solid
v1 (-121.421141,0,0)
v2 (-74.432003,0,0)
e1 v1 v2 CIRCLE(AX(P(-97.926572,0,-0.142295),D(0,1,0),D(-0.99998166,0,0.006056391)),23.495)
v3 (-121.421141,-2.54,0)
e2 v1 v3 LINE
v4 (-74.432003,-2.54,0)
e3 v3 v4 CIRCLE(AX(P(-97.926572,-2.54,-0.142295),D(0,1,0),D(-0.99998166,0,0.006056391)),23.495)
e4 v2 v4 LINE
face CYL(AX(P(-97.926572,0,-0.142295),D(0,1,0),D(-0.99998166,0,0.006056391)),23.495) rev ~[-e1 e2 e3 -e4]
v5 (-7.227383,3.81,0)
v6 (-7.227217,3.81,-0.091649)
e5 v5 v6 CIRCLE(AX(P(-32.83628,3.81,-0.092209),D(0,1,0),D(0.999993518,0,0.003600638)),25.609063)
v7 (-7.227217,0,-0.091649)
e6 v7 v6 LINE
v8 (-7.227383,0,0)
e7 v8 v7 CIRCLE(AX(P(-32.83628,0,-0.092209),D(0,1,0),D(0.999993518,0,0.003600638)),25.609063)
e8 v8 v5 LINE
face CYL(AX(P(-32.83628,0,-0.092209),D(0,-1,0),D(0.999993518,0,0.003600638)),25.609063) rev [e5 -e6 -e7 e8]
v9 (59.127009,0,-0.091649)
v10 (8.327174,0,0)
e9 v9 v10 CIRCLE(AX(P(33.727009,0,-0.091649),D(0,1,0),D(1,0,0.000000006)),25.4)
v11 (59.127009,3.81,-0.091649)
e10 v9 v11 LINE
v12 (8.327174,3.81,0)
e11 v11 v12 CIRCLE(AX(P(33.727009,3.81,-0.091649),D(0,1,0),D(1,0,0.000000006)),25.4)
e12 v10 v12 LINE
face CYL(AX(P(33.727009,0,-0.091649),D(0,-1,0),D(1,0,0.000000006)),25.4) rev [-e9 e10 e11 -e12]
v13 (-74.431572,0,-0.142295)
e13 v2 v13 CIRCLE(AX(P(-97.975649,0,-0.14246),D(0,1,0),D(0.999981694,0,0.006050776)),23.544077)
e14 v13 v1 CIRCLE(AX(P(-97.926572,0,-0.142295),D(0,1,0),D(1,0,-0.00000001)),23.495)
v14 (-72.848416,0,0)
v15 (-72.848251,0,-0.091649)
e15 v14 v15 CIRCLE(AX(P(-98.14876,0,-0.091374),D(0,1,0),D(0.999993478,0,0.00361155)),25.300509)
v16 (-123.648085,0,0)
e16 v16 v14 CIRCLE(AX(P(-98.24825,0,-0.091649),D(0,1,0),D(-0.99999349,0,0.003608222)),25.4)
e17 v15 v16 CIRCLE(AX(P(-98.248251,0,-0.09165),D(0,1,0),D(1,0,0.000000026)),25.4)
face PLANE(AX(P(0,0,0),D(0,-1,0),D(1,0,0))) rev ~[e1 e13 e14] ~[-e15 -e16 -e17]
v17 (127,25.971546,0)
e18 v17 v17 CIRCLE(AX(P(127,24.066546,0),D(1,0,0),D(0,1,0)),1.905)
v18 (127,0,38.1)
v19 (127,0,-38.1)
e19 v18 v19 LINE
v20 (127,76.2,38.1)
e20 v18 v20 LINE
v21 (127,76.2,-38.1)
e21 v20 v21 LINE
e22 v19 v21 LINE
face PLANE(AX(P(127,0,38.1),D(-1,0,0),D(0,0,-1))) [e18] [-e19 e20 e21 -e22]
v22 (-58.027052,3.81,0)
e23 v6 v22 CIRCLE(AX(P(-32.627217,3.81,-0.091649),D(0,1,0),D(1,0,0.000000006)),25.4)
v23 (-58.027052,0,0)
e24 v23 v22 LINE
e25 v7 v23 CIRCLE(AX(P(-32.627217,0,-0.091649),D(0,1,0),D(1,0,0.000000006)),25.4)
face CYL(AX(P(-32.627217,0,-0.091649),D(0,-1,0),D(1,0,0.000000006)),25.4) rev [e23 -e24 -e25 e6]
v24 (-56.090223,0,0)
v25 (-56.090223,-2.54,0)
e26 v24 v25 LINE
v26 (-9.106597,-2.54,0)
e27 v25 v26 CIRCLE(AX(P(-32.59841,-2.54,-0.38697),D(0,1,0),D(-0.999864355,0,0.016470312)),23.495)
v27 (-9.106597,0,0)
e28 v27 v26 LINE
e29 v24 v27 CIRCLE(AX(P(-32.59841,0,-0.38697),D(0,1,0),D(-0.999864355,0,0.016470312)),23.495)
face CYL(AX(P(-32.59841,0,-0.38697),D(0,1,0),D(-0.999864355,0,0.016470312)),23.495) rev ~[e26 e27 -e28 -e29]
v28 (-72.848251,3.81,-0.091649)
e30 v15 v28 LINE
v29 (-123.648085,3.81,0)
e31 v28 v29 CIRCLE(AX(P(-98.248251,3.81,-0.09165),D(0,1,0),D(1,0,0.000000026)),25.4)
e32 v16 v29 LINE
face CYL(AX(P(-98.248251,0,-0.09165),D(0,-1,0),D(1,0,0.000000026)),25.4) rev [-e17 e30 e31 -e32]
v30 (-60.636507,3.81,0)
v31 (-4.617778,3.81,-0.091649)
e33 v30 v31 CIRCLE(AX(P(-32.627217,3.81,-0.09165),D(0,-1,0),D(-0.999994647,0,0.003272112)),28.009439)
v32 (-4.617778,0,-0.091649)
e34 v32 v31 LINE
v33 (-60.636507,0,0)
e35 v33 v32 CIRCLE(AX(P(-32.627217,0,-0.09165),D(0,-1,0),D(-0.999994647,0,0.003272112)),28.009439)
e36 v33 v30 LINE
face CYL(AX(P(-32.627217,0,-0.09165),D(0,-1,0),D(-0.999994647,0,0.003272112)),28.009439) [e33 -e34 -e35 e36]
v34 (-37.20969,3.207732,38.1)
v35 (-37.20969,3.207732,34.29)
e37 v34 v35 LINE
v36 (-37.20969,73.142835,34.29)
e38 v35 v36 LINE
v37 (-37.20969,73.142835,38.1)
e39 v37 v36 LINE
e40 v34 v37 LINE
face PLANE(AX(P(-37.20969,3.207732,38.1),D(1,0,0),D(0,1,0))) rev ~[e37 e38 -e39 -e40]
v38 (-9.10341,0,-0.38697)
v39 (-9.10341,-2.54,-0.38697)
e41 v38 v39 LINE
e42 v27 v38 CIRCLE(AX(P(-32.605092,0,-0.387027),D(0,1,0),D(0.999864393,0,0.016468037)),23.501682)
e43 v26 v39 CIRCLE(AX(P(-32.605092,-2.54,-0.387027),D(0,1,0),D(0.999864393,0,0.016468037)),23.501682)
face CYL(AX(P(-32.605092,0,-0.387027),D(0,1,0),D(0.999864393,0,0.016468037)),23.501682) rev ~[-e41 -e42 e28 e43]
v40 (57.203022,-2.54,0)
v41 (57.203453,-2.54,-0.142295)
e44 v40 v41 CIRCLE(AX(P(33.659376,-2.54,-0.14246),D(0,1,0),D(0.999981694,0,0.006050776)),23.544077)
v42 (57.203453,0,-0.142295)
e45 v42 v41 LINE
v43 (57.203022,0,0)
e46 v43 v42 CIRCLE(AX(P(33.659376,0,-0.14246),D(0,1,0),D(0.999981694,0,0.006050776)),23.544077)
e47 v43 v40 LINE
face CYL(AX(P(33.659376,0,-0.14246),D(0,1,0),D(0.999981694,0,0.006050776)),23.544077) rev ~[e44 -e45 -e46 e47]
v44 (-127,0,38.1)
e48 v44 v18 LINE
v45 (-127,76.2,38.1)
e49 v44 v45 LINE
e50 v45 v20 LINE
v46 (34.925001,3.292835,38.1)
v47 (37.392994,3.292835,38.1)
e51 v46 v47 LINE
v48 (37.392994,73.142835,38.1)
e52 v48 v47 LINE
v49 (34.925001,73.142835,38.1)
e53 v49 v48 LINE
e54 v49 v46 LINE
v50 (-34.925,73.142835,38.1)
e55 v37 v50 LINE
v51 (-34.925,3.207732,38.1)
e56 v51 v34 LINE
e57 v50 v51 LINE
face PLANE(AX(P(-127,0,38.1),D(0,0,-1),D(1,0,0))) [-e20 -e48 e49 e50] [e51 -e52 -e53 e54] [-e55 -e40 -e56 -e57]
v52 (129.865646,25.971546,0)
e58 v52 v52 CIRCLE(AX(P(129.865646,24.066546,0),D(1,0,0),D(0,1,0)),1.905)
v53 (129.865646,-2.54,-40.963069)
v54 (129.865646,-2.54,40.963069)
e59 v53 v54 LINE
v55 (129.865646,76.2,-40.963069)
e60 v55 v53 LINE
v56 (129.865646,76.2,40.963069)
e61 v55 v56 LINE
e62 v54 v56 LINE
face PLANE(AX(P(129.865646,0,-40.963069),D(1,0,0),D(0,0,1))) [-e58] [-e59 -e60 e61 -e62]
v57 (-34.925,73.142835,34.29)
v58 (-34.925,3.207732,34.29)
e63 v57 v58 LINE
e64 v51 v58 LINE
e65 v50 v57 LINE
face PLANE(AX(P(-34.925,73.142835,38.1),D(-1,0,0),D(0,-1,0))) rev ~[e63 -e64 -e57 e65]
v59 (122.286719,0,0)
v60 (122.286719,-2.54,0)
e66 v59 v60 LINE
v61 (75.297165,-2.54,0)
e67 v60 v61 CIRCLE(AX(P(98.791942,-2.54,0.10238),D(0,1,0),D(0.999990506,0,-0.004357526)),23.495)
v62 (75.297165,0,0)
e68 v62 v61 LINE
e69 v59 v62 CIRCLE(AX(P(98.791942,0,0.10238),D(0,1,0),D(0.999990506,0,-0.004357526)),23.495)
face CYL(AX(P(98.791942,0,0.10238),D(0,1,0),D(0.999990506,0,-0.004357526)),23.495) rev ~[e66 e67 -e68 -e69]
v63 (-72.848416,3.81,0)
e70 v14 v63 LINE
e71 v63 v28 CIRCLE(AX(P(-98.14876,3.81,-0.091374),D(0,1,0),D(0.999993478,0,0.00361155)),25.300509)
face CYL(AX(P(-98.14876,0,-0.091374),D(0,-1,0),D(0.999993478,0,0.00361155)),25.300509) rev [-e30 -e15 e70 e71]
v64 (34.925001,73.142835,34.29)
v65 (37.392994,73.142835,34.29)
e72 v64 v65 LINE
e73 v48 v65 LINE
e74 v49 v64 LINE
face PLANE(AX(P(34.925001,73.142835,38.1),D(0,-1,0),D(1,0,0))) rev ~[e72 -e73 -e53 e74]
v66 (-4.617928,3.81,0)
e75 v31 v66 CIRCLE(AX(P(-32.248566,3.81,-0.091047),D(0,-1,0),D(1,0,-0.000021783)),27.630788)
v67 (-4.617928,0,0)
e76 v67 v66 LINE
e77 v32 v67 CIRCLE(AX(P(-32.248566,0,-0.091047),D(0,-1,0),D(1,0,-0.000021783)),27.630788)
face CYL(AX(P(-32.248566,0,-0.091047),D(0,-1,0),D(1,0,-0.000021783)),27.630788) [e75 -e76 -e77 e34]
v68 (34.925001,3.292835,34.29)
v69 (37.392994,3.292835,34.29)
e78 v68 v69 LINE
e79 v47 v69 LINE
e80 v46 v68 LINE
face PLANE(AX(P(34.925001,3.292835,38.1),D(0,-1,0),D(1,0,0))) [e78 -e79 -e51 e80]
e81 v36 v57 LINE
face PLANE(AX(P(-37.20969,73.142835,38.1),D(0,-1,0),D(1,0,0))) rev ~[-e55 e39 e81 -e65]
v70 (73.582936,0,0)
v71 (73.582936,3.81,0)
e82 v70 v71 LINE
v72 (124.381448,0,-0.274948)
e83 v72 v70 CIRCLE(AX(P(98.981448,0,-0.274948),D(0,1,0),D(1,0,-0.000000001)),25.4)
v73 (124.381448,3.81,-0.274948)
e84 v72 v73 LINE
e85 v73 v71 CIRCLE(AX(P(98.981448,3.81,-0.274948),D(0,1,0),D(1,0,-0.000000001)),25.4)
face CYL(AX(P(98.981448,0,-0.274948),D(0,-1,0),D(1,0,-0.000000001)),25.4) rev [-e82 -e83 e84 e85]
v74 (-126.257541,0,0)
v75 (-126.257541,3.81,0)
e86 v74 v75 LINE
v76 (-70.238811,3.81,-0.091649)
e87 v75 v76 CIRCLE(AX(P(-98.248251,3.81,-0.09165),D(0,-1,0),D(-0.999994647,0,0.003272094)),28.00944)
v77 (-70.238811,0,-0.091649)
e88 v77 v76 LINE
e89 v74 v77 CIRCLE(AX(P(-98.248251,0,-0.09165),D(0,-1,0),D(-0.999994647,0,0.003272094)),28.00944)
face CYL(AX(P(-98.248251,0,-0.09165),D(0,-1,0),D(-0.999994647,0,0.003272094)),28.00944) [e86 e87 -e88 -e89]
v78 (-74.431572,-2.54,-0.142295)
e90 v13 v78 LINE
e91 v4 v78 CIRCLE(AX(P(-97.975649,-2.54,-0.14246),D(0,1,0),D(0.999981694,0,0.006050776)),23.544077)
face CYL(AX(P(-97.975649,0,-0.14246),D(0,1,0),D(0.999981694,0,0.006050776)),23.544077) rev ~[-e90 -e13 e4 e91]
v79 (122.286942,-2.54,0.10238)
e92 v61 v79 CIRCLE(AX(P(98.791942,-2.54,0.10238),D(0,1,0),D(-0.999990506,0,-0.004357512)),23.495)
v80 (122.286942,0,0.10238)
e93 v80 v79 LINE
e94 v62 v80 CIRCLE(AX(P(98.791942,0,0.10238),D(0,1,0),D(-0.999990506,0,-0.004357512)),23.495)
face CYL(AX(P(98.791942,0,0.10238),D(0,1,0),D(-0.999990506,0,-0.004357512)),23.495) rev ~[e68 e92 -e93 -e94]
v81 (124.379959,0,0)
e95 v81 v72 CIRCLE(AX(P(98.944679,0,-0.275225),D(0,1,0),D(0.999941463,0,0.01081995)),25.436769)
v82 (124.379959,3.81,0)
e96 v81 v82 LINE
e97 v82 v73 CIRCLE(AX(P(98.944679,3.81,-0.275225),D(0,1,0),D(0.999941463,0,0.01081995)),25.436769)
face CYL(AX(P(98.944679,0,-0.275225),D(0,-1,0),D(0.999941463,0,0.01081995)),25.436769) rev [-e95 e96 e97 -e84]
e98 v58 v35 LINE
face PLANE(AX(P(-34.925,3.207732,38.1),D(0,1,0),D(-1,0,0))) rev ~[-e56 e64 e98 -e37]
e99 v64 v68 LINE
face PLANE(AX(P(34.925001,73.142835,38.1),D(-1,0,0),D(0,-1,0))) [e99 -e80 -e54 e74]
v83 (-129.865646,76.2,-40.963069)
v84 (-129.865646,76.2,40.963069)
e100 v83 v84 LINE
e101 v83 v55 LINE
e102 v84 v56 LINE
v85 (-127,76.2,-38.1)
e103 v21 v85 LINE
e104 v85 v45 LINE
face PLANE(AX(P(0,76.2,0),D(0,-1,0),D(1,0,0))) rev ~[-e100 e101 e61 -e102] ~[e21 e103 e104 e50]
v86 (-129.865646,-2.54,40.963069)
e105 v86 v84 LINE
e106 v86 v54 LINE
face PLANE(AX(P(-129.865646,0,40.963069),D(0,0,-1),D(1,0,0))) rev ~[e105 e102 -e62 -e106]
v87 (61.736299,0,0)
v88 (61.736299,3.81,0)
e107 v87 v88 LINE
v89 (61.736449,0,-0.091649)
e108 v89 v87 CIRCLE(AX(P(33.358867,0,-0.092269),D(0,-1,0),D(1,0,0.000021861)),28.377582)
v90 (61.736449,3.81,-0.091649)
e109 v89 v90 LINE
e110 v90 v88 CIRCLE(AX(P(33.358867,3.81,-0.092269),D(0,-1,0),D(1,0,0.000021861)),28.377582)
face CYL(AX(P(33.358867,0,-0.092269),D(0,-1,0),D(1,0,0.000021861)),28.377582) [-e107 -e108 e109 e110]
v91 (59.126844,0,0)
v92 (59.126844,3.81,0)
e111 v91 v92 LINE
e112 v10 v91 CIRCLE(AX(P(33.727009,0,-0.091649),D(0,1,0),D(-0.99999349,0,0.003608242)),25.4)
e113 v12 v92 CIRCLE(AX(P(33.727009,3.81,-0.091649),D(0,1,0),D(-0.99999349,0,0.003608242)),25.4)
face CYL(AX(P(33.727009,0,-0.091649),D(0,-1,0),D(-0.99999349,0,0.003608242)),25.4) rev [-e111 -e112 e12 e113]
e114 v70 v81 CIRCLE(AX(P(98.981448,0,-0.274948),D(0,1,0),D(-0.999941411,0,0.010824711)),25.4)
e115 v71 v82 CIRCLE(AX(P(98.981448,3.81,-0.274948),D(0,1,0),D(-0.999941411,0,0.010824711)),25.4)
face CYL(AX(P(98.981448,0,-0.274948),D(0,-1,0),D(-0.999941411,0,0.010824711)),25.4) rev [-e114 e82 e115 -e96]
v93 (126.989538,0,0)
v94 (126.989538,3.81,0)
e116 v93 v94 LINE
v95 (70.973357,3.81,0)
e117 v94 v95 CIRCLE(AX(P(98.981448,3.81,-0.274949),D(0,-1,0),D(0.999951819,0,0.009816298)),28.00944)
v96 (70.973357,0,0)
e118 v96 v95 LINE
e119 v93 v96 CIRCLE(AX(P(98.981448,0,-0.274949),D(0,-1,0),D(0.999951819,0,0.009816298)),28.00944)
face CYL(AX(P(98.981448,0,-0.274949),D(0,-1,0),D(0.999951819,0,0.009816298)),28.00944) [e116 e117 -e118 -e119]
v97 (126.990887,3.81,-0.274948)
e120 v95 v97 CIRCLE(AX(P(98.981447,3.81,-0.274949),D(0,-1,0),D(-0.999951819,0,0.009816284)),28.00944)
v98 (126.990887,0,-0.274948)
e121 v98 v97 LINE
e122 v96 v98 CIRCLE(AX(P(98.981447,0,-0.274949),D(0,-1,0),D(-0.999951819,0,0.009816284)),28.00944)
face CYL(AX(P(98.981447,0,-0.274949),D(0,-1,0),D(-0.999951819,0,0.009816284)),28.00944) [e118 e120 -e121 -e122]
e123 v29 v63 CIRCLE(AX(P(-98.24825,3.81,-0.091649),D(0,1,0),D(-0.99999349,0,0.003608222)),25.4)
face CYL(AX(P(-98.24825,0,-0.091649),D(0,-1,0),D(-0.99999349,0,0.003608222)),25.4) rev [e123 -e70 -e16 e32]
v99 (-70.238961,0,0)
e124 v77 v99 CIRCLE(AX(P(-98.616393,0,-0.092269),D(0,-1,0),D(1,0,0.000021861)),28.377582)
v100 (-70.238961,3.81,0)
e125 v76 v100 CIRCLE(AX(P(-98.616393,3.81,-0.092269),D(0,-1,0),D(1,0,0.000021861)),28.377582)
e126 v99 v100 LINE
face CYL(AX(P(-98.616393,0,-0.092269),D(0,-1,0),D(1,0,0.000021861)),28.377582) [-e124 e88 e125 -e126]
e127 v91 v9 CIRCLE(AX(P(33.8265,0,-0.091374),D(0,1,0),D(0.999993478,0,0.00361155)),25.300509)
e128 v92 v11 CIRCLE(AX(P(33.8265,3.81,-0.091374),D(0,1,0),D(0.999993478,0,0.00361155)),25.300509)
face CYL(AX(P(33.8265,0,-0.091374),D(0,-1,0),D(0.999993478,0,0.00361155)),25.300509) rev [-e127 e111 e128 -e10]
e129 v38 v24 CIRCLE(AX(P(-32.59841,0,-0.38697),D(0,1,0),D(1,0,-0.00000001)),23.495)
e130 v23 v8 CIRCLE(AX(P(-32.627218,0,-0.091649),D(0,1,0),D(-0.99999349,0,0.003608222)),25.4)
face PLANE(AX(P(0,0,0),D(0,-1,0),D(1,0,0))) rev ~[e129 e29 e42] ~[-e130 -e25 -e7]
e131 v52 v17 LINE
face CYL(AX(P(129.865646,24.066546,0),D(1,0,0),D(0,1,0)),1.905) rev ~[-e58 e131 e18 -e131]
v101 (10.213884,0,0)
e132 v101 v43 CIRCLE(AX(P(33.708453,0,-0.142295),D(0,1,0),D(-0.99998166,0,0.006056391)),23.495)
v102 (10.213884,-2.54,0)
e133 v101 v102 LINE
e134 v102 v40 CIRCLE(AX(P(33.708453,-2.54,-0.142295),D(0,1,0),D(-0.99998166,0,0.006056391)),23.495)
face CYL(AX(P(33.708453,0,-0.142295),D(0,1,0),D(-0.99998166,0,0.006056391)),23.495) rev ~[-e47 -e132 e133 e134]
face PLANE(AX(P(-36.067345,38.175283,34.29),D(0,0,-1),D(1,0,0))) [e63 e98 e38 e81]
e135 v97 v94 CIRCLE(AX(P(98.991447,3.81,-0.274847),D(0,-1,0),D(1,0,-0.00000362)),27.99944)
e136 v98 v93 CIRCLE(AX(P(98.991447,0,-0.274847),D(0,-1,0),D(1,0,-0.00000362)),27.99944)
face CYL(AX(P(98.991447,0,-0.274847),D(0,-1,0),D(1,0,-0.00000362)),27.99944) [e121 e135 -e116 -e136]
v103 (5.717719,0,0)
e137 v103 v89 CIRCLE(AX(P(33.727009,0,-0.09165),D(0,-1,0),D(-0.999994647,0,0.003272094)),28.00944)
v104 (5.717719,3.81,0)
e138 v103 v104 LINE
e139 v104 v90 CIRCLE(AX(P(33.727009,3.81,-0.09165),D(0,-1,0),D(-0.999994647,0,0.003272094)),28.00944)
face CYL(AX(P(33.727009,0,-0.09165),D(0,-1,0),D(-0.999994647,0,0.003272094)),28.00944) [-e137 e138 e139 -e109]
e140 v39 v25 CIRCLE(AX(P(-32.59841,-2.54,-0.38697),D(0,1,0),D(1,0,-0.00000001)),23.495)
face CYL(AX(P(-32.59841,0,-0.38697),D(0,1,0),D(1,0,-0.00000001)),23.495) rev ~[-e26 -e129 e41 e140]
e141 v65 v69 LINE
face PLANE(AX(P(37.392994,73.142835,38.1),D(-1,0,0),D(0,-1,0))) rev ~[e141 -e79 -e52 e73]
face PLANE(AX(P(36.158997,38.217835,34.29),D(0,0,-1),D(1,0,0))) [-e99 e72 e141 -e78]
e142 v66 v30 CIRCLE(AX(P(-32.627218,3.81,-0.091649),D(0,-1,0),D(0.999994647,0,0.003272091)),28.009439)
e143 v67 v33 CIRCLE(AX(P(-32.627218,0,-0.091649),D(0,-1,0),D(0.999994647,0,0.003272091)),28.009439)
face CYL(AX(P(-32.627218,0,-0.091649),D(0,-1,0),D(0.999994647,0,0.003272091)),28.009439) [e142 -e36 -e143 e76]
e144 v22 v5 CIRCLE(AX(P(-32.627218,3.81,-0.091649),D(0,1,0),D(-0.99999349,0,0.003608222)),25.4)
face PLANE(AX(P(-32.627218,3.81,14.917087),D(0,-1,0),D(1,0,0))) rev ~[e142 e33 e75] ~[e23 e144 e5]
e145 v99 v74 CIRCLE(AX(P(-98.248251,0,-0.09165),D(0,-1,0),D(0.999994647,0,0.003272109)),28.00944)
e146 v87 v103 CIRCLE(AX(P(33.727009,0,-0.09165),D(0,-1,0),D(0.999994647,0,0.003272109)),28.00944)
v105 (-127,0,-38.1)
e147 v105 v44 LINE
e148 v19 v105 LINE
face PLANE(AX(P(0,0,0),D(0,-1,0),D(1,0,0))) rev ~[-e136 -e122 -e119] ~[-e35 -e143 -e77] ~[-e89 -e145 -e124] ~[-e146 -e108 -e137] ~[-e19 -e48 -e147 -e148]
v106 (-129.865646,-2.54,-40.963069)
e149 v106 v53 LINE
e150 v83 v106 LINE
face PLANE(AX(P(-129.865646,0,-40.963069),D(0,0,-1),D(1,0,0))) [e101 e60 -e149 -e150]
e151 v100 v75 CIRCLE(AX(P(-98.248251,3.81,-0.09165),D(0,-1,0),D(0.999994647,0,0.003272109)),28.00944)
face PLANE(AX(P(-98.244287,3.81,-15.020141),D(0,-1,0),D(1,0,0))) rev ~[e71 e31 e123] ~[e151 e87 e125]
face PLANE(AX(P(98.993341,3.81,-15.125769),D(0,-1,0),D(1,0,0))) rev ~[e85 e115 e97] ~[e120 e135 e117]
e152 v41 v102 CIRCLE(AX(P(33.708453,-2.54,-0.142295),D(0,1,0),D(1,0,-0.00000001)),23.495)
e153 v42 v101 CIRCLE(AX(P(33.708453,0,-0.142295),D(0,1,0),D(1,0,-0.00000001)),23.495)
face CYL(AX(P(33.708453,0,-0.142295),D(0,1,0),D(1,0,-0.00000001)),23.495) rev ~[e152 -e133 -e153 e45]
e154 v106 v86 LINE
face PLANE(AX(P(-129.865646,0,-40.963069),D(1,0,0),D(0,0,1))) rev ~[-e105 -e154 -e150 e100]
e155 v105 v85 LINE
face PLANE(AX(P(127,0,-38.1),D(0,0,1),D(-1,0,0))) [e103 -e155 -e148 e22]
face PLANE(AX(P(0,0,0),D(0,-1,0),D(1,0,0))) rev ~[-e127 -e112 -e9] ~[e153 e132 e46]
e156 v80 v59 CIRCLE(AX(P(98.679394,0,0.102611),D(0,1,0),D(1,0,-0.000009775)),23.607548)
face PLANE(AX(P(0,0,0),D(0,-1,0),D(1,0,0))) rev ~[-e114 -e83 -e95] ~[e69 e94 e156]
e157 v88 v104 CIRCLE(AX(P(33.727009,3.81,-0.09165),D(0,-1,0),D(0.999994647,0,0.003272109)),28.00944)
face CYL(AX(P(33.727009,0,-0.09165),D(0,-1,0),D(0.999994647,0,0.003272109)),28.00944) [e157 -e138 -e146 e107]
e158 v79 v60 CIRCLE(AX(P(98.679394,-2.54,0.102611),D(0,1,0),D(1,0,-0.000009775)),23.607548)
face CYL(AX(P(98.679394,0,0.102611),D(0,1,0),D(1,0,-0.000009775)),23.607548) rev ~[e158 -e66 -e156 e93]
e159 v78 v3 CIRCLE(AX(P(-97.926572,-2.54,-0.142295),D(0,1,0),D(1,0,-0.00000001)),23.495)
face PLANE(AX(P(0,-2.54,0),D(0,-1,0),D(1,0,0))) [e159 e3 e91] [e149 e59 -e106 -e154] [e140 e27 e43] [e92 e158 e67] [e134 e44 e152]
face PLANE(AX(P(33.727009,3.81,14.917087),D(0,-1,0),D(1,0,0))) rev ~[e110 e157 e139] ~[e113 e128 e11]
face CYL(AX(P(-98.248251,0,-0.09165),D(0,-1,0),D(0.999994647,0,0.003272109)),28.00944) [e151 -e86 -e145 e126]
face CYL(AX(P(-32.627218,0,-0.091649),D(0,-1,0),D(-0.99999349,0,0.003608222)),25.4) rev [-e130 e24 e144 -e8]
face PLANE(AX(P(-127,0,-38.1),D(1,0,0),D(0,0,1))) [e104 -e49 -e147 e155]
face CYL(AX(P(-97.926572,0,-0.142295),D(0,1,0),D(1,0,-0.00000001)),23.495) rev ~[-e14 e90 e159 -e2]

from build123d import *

# Parameters (mm, degrees)
F0_W     = 259.731292
F0_H     = 81.926138
F1_DEPTH = 2.54
F2_DEPTH = 76.2
F4_DEPTH = 3.81
F5_R     = 1.905
F6_DEPTH = 25.4
F7_W     = 2.467993
F7_H     = 69.85
F8_DEPTH = 3.81


with BuildPart() as f1:
    # F0 (on Front) → F1 (new body)
    with BuildSketch(Plane.XZ):
        Rectangle(F0_W, F0_H)
        Polygon((-127, 38.1), (127, 38.1), (127, 0), (127, -38.1), (-127, -38.1), (-127, 0), align=None, mode=Mode.SUBTRACT)
        with BuildLine():
            Line((127, 0), (127, 38.1))
            Line((127, 38.1), (-127, 38.1))
            Line((-127, 38.1), (-127, 0))
            Line((-127, 0), (-121.421141, 0))
            ThreePointArc((-121.421141, 0), (-97.926572, 23.352705), (-74.432003, 0))
            Line((-74.432003, 0), (-63.5, 0))
            Line((-63.5, 0), (-56.090223, 0))
            ThreePointArc((-56.090223, 0), (-32.59841, 23.10803), (-9.106597, 0))
            Line((-9.106597, 0), (0, 0))
            Line((0, 0), (10.213884, 0))
            ThreePointArc((10.213884, 0), (33.708453, 23.352705), (57.203022, 0))
            Line((57.203022, 0), (63.5, 0))
            Line((63.5, 0), (75.297165, 0))
            ThreePointArc((75.297165, 0), (98.740752, 23.597324), (122.286942, 0.10238))
            ThreePointArc((122.286942, 0.10238), (122.286886, 0.05119), (122.286719, 0))
            Line((122.286719, 0), (127, 0))
        make_face()
        with BuildLine():
            Line((127, -38.1), (127, 0))
            Line((127, 0), (122.286719, 0))
            ThreePointArc((122.286719, 0), (98.791942, -23.39262), (75.297165, 0))
            Line((75.297165, 0), (63.5, 0))
            Line((63.5, 0), (57.203022, 0))
            ThreePointArc((57.203022, 0), (57.203345, -0.071147), (57.203453, -0.142295))
            ThreePointArc((57.203453, -0.142295), (33.637305, -23.637187), (10.213884, 0))
            Line((10.213884, 0), (0, 0))
            Line((0, 0), (-9.106597, 0))
            ThreePointArc((-9.106597, 0), (-9.104207, -0.193478), (-9.10341, -0.38697))
            ThreePointArc((-9.10341, -0.38697), (-32.791901, -23.881173), (-56.090223, 0))
            Line((-56.090223, 0), (-63.5, 0))
            Line((-63.5, 0), (-74.432003, 0))
            ThreePointArc((-74.432003, 0), (-74.43168, -0.071147), (-74.431572, -0.142295))
            ThreePointArc((-74.431572, -0.142295), (-97.99772, -23.637187), (-121.421141, 0))
            Line((-121.421141, 0), (-127, 0))
            Line((-127, 0), (-127, -38.1))
            Line((-127, -38.1), (127, -38.1))
        make_face()
    extrude(amount=F1_DEPTH)

    # F0 (on Front) → F2 (join)
    with BuildSketch(Plane.XZ):
        Rectangle(F0_W, F0_H)
        Polygon((-127, 38.1), (127, 38.1), (127, 0), (127, -38.1), (-127, -38.1), (-127, 0), align=None, mode=Mode.SUBTRACT)
    extrude(amount=-F2_DEPTH)

    # F3 (on face) → F4 (join)
    with BuildSketch(Plane.XZ):
        with BuildLine():
            Line((73.582936, 0), (70.973357, 0))
            ThreePointArc((70.973357, 0), (98.843972, -28.284051), (126.990887, -0.274948))
            ThreePointArc((126.990887, -0.274948), (126.99055, -0.137473), (126.989538, 0))
            Line((126.989538, 0), (124.379959, 0))
            ThreePointArc((124.379959, 0), (124.381075, -0.137472), (124.381448, -0.274948))
            ThreePointArc((124.381448, -0.274948), (98.843971, -25.674576), (73.582936, 0))
        make_face()
        with BuildLine():
            ThreePointArc((126.989538, 0), (98.981448, 27.734491), (70.973357, 0))
            Line((70.973357, 0), (73.582936, 0))
            ThreePointArc((73.582936, 0), (98.981448, 25.125052), (124.379959, 0))
            Line((124.379959, 0), (126.989538, 0))
        make_face()
        with BuildLine():
            ThreePointArc((61.736299, 0), (33.727009, 27.91779), (5.717719, 0))
            Line((5.717719, 0), (8.327174, 0))
            ThreePointArc((8.327174, 0), (33.727009, 25.308351), (59.126844, 0))
            Line((59.126844, 0), (61.736299, 0))
        make_face()
        with BuildLine():
            Line((8.327174, 0), (5.717719, 0))
            ThreePointArc((5.717719, 0), (33.681184, -28.101052), (61.736449, -0.091649))
            ThreePointArc((61.736449, -0.091649), (61.736411, -0.045825), (61.736299, 0))
            Line((61.736299, 0), (59.126844, 0))
            ThreePointArc((59.126844, 0), (59.126968, -0.045825), (59.127009, -0.091649))
            ThreePointArc((59.127009, -0.091649), (33.681184, -25.491608), (8.327174, 0))
        make_face()
        with BuildLine():
            ThreePointArc((-58.027052, 0), (-32.627217, 25.308351), (-7.227383, 0))
            Line((-7.227383, 0), (-4.617928, 0))
            ThreePointArc((-4.617928, 0), (-32.627217, 27.91779), (-60.636507, 0))
            Line((-60.636507, 0), (-58.027052, 0))
        make_face()
        with BuildLine():
            ThreePointArc((-7.227383, 0), (-7.227259, -0.045825), (-7.227217, -0.091649))
            ThreePointArc((-7.227217, -0.091649), (-32.673042, -25.491608), (-58.027052, 0))
            Line((-58.027052, 0), (-60.636507, 0))
            ThreePointArc((-60.636507, 0), (-32.673042, -28.101052), (-4.617778, -0.091649))
            ThreePointArc((-4.617778, -0.091649), (-4.617815, -0.045825), (-4.617928, 0))
            Line((-4.617928, 0), (-7.227383, 0))
        make_face()
        with BuildLine():
            ThreePointArc((-70.238811, -0.091649), (-70.238849, -0.045825), (-70.238961, 0))
            Line((-70.238961, 0), (-72.848416, 0))
            ThreePointArc((-72.848416, 0), (-72.848292, -0.045825), (-72.848251, -0.091649))
            ThreePointArc((-72.848251, -0.091649), (-98.294076, -25.491608), (-123.648085, 0))
            Line((-123.648085, 0), (-126.257541, 0))
            ThreePointArc((-126.257541, 0), (-98.294076, -28.101052), (-70.238811, -0.091649))
        make_face()
        with BuildLine():
            Line((-72.848416, 0), (-70.238961, 0))
            ThreePointArc((-70.238961, 0), (-98.248251, 27.91779), (-126.257541, 0))
            Line((-126.257541, 0), (-123.648085, 0))
            ThreePointArc((-123.648085, 0), (-98.248251, 25.308351), (-72.848416, 0))
        make_face()
    extrude(amount=-F4_DEPTH)

    # F5 (on face) → F6 (cut)
    with BuildSketch(Plane.YZ.offset(129.865646)):
        with Locations((24.066546, 0)):
            Circle(F5_R)
    extrude(amount=-F6_DEPTH, mode=Mode.SUBTRACT)

    # F7 (on face) → F8 (join)
    with BuildSketch(Plane(origin=(0, 0, 38.1), x_dir=(1, 0, 0), z_dir=(0, 0, -1))):
        Polygon((-37.20969, -73.142835), (-34.925, -73.142835), (-34.925, -3.292835), (-34.925, -3.207732), (-37.20969, -3.207732), align=None)
        with Locations((36.158997, -38.217835)):
            Rectangle(F7_W, F7_H)
    extrude(amount=F8_DEPTH)


solid = f1.part
